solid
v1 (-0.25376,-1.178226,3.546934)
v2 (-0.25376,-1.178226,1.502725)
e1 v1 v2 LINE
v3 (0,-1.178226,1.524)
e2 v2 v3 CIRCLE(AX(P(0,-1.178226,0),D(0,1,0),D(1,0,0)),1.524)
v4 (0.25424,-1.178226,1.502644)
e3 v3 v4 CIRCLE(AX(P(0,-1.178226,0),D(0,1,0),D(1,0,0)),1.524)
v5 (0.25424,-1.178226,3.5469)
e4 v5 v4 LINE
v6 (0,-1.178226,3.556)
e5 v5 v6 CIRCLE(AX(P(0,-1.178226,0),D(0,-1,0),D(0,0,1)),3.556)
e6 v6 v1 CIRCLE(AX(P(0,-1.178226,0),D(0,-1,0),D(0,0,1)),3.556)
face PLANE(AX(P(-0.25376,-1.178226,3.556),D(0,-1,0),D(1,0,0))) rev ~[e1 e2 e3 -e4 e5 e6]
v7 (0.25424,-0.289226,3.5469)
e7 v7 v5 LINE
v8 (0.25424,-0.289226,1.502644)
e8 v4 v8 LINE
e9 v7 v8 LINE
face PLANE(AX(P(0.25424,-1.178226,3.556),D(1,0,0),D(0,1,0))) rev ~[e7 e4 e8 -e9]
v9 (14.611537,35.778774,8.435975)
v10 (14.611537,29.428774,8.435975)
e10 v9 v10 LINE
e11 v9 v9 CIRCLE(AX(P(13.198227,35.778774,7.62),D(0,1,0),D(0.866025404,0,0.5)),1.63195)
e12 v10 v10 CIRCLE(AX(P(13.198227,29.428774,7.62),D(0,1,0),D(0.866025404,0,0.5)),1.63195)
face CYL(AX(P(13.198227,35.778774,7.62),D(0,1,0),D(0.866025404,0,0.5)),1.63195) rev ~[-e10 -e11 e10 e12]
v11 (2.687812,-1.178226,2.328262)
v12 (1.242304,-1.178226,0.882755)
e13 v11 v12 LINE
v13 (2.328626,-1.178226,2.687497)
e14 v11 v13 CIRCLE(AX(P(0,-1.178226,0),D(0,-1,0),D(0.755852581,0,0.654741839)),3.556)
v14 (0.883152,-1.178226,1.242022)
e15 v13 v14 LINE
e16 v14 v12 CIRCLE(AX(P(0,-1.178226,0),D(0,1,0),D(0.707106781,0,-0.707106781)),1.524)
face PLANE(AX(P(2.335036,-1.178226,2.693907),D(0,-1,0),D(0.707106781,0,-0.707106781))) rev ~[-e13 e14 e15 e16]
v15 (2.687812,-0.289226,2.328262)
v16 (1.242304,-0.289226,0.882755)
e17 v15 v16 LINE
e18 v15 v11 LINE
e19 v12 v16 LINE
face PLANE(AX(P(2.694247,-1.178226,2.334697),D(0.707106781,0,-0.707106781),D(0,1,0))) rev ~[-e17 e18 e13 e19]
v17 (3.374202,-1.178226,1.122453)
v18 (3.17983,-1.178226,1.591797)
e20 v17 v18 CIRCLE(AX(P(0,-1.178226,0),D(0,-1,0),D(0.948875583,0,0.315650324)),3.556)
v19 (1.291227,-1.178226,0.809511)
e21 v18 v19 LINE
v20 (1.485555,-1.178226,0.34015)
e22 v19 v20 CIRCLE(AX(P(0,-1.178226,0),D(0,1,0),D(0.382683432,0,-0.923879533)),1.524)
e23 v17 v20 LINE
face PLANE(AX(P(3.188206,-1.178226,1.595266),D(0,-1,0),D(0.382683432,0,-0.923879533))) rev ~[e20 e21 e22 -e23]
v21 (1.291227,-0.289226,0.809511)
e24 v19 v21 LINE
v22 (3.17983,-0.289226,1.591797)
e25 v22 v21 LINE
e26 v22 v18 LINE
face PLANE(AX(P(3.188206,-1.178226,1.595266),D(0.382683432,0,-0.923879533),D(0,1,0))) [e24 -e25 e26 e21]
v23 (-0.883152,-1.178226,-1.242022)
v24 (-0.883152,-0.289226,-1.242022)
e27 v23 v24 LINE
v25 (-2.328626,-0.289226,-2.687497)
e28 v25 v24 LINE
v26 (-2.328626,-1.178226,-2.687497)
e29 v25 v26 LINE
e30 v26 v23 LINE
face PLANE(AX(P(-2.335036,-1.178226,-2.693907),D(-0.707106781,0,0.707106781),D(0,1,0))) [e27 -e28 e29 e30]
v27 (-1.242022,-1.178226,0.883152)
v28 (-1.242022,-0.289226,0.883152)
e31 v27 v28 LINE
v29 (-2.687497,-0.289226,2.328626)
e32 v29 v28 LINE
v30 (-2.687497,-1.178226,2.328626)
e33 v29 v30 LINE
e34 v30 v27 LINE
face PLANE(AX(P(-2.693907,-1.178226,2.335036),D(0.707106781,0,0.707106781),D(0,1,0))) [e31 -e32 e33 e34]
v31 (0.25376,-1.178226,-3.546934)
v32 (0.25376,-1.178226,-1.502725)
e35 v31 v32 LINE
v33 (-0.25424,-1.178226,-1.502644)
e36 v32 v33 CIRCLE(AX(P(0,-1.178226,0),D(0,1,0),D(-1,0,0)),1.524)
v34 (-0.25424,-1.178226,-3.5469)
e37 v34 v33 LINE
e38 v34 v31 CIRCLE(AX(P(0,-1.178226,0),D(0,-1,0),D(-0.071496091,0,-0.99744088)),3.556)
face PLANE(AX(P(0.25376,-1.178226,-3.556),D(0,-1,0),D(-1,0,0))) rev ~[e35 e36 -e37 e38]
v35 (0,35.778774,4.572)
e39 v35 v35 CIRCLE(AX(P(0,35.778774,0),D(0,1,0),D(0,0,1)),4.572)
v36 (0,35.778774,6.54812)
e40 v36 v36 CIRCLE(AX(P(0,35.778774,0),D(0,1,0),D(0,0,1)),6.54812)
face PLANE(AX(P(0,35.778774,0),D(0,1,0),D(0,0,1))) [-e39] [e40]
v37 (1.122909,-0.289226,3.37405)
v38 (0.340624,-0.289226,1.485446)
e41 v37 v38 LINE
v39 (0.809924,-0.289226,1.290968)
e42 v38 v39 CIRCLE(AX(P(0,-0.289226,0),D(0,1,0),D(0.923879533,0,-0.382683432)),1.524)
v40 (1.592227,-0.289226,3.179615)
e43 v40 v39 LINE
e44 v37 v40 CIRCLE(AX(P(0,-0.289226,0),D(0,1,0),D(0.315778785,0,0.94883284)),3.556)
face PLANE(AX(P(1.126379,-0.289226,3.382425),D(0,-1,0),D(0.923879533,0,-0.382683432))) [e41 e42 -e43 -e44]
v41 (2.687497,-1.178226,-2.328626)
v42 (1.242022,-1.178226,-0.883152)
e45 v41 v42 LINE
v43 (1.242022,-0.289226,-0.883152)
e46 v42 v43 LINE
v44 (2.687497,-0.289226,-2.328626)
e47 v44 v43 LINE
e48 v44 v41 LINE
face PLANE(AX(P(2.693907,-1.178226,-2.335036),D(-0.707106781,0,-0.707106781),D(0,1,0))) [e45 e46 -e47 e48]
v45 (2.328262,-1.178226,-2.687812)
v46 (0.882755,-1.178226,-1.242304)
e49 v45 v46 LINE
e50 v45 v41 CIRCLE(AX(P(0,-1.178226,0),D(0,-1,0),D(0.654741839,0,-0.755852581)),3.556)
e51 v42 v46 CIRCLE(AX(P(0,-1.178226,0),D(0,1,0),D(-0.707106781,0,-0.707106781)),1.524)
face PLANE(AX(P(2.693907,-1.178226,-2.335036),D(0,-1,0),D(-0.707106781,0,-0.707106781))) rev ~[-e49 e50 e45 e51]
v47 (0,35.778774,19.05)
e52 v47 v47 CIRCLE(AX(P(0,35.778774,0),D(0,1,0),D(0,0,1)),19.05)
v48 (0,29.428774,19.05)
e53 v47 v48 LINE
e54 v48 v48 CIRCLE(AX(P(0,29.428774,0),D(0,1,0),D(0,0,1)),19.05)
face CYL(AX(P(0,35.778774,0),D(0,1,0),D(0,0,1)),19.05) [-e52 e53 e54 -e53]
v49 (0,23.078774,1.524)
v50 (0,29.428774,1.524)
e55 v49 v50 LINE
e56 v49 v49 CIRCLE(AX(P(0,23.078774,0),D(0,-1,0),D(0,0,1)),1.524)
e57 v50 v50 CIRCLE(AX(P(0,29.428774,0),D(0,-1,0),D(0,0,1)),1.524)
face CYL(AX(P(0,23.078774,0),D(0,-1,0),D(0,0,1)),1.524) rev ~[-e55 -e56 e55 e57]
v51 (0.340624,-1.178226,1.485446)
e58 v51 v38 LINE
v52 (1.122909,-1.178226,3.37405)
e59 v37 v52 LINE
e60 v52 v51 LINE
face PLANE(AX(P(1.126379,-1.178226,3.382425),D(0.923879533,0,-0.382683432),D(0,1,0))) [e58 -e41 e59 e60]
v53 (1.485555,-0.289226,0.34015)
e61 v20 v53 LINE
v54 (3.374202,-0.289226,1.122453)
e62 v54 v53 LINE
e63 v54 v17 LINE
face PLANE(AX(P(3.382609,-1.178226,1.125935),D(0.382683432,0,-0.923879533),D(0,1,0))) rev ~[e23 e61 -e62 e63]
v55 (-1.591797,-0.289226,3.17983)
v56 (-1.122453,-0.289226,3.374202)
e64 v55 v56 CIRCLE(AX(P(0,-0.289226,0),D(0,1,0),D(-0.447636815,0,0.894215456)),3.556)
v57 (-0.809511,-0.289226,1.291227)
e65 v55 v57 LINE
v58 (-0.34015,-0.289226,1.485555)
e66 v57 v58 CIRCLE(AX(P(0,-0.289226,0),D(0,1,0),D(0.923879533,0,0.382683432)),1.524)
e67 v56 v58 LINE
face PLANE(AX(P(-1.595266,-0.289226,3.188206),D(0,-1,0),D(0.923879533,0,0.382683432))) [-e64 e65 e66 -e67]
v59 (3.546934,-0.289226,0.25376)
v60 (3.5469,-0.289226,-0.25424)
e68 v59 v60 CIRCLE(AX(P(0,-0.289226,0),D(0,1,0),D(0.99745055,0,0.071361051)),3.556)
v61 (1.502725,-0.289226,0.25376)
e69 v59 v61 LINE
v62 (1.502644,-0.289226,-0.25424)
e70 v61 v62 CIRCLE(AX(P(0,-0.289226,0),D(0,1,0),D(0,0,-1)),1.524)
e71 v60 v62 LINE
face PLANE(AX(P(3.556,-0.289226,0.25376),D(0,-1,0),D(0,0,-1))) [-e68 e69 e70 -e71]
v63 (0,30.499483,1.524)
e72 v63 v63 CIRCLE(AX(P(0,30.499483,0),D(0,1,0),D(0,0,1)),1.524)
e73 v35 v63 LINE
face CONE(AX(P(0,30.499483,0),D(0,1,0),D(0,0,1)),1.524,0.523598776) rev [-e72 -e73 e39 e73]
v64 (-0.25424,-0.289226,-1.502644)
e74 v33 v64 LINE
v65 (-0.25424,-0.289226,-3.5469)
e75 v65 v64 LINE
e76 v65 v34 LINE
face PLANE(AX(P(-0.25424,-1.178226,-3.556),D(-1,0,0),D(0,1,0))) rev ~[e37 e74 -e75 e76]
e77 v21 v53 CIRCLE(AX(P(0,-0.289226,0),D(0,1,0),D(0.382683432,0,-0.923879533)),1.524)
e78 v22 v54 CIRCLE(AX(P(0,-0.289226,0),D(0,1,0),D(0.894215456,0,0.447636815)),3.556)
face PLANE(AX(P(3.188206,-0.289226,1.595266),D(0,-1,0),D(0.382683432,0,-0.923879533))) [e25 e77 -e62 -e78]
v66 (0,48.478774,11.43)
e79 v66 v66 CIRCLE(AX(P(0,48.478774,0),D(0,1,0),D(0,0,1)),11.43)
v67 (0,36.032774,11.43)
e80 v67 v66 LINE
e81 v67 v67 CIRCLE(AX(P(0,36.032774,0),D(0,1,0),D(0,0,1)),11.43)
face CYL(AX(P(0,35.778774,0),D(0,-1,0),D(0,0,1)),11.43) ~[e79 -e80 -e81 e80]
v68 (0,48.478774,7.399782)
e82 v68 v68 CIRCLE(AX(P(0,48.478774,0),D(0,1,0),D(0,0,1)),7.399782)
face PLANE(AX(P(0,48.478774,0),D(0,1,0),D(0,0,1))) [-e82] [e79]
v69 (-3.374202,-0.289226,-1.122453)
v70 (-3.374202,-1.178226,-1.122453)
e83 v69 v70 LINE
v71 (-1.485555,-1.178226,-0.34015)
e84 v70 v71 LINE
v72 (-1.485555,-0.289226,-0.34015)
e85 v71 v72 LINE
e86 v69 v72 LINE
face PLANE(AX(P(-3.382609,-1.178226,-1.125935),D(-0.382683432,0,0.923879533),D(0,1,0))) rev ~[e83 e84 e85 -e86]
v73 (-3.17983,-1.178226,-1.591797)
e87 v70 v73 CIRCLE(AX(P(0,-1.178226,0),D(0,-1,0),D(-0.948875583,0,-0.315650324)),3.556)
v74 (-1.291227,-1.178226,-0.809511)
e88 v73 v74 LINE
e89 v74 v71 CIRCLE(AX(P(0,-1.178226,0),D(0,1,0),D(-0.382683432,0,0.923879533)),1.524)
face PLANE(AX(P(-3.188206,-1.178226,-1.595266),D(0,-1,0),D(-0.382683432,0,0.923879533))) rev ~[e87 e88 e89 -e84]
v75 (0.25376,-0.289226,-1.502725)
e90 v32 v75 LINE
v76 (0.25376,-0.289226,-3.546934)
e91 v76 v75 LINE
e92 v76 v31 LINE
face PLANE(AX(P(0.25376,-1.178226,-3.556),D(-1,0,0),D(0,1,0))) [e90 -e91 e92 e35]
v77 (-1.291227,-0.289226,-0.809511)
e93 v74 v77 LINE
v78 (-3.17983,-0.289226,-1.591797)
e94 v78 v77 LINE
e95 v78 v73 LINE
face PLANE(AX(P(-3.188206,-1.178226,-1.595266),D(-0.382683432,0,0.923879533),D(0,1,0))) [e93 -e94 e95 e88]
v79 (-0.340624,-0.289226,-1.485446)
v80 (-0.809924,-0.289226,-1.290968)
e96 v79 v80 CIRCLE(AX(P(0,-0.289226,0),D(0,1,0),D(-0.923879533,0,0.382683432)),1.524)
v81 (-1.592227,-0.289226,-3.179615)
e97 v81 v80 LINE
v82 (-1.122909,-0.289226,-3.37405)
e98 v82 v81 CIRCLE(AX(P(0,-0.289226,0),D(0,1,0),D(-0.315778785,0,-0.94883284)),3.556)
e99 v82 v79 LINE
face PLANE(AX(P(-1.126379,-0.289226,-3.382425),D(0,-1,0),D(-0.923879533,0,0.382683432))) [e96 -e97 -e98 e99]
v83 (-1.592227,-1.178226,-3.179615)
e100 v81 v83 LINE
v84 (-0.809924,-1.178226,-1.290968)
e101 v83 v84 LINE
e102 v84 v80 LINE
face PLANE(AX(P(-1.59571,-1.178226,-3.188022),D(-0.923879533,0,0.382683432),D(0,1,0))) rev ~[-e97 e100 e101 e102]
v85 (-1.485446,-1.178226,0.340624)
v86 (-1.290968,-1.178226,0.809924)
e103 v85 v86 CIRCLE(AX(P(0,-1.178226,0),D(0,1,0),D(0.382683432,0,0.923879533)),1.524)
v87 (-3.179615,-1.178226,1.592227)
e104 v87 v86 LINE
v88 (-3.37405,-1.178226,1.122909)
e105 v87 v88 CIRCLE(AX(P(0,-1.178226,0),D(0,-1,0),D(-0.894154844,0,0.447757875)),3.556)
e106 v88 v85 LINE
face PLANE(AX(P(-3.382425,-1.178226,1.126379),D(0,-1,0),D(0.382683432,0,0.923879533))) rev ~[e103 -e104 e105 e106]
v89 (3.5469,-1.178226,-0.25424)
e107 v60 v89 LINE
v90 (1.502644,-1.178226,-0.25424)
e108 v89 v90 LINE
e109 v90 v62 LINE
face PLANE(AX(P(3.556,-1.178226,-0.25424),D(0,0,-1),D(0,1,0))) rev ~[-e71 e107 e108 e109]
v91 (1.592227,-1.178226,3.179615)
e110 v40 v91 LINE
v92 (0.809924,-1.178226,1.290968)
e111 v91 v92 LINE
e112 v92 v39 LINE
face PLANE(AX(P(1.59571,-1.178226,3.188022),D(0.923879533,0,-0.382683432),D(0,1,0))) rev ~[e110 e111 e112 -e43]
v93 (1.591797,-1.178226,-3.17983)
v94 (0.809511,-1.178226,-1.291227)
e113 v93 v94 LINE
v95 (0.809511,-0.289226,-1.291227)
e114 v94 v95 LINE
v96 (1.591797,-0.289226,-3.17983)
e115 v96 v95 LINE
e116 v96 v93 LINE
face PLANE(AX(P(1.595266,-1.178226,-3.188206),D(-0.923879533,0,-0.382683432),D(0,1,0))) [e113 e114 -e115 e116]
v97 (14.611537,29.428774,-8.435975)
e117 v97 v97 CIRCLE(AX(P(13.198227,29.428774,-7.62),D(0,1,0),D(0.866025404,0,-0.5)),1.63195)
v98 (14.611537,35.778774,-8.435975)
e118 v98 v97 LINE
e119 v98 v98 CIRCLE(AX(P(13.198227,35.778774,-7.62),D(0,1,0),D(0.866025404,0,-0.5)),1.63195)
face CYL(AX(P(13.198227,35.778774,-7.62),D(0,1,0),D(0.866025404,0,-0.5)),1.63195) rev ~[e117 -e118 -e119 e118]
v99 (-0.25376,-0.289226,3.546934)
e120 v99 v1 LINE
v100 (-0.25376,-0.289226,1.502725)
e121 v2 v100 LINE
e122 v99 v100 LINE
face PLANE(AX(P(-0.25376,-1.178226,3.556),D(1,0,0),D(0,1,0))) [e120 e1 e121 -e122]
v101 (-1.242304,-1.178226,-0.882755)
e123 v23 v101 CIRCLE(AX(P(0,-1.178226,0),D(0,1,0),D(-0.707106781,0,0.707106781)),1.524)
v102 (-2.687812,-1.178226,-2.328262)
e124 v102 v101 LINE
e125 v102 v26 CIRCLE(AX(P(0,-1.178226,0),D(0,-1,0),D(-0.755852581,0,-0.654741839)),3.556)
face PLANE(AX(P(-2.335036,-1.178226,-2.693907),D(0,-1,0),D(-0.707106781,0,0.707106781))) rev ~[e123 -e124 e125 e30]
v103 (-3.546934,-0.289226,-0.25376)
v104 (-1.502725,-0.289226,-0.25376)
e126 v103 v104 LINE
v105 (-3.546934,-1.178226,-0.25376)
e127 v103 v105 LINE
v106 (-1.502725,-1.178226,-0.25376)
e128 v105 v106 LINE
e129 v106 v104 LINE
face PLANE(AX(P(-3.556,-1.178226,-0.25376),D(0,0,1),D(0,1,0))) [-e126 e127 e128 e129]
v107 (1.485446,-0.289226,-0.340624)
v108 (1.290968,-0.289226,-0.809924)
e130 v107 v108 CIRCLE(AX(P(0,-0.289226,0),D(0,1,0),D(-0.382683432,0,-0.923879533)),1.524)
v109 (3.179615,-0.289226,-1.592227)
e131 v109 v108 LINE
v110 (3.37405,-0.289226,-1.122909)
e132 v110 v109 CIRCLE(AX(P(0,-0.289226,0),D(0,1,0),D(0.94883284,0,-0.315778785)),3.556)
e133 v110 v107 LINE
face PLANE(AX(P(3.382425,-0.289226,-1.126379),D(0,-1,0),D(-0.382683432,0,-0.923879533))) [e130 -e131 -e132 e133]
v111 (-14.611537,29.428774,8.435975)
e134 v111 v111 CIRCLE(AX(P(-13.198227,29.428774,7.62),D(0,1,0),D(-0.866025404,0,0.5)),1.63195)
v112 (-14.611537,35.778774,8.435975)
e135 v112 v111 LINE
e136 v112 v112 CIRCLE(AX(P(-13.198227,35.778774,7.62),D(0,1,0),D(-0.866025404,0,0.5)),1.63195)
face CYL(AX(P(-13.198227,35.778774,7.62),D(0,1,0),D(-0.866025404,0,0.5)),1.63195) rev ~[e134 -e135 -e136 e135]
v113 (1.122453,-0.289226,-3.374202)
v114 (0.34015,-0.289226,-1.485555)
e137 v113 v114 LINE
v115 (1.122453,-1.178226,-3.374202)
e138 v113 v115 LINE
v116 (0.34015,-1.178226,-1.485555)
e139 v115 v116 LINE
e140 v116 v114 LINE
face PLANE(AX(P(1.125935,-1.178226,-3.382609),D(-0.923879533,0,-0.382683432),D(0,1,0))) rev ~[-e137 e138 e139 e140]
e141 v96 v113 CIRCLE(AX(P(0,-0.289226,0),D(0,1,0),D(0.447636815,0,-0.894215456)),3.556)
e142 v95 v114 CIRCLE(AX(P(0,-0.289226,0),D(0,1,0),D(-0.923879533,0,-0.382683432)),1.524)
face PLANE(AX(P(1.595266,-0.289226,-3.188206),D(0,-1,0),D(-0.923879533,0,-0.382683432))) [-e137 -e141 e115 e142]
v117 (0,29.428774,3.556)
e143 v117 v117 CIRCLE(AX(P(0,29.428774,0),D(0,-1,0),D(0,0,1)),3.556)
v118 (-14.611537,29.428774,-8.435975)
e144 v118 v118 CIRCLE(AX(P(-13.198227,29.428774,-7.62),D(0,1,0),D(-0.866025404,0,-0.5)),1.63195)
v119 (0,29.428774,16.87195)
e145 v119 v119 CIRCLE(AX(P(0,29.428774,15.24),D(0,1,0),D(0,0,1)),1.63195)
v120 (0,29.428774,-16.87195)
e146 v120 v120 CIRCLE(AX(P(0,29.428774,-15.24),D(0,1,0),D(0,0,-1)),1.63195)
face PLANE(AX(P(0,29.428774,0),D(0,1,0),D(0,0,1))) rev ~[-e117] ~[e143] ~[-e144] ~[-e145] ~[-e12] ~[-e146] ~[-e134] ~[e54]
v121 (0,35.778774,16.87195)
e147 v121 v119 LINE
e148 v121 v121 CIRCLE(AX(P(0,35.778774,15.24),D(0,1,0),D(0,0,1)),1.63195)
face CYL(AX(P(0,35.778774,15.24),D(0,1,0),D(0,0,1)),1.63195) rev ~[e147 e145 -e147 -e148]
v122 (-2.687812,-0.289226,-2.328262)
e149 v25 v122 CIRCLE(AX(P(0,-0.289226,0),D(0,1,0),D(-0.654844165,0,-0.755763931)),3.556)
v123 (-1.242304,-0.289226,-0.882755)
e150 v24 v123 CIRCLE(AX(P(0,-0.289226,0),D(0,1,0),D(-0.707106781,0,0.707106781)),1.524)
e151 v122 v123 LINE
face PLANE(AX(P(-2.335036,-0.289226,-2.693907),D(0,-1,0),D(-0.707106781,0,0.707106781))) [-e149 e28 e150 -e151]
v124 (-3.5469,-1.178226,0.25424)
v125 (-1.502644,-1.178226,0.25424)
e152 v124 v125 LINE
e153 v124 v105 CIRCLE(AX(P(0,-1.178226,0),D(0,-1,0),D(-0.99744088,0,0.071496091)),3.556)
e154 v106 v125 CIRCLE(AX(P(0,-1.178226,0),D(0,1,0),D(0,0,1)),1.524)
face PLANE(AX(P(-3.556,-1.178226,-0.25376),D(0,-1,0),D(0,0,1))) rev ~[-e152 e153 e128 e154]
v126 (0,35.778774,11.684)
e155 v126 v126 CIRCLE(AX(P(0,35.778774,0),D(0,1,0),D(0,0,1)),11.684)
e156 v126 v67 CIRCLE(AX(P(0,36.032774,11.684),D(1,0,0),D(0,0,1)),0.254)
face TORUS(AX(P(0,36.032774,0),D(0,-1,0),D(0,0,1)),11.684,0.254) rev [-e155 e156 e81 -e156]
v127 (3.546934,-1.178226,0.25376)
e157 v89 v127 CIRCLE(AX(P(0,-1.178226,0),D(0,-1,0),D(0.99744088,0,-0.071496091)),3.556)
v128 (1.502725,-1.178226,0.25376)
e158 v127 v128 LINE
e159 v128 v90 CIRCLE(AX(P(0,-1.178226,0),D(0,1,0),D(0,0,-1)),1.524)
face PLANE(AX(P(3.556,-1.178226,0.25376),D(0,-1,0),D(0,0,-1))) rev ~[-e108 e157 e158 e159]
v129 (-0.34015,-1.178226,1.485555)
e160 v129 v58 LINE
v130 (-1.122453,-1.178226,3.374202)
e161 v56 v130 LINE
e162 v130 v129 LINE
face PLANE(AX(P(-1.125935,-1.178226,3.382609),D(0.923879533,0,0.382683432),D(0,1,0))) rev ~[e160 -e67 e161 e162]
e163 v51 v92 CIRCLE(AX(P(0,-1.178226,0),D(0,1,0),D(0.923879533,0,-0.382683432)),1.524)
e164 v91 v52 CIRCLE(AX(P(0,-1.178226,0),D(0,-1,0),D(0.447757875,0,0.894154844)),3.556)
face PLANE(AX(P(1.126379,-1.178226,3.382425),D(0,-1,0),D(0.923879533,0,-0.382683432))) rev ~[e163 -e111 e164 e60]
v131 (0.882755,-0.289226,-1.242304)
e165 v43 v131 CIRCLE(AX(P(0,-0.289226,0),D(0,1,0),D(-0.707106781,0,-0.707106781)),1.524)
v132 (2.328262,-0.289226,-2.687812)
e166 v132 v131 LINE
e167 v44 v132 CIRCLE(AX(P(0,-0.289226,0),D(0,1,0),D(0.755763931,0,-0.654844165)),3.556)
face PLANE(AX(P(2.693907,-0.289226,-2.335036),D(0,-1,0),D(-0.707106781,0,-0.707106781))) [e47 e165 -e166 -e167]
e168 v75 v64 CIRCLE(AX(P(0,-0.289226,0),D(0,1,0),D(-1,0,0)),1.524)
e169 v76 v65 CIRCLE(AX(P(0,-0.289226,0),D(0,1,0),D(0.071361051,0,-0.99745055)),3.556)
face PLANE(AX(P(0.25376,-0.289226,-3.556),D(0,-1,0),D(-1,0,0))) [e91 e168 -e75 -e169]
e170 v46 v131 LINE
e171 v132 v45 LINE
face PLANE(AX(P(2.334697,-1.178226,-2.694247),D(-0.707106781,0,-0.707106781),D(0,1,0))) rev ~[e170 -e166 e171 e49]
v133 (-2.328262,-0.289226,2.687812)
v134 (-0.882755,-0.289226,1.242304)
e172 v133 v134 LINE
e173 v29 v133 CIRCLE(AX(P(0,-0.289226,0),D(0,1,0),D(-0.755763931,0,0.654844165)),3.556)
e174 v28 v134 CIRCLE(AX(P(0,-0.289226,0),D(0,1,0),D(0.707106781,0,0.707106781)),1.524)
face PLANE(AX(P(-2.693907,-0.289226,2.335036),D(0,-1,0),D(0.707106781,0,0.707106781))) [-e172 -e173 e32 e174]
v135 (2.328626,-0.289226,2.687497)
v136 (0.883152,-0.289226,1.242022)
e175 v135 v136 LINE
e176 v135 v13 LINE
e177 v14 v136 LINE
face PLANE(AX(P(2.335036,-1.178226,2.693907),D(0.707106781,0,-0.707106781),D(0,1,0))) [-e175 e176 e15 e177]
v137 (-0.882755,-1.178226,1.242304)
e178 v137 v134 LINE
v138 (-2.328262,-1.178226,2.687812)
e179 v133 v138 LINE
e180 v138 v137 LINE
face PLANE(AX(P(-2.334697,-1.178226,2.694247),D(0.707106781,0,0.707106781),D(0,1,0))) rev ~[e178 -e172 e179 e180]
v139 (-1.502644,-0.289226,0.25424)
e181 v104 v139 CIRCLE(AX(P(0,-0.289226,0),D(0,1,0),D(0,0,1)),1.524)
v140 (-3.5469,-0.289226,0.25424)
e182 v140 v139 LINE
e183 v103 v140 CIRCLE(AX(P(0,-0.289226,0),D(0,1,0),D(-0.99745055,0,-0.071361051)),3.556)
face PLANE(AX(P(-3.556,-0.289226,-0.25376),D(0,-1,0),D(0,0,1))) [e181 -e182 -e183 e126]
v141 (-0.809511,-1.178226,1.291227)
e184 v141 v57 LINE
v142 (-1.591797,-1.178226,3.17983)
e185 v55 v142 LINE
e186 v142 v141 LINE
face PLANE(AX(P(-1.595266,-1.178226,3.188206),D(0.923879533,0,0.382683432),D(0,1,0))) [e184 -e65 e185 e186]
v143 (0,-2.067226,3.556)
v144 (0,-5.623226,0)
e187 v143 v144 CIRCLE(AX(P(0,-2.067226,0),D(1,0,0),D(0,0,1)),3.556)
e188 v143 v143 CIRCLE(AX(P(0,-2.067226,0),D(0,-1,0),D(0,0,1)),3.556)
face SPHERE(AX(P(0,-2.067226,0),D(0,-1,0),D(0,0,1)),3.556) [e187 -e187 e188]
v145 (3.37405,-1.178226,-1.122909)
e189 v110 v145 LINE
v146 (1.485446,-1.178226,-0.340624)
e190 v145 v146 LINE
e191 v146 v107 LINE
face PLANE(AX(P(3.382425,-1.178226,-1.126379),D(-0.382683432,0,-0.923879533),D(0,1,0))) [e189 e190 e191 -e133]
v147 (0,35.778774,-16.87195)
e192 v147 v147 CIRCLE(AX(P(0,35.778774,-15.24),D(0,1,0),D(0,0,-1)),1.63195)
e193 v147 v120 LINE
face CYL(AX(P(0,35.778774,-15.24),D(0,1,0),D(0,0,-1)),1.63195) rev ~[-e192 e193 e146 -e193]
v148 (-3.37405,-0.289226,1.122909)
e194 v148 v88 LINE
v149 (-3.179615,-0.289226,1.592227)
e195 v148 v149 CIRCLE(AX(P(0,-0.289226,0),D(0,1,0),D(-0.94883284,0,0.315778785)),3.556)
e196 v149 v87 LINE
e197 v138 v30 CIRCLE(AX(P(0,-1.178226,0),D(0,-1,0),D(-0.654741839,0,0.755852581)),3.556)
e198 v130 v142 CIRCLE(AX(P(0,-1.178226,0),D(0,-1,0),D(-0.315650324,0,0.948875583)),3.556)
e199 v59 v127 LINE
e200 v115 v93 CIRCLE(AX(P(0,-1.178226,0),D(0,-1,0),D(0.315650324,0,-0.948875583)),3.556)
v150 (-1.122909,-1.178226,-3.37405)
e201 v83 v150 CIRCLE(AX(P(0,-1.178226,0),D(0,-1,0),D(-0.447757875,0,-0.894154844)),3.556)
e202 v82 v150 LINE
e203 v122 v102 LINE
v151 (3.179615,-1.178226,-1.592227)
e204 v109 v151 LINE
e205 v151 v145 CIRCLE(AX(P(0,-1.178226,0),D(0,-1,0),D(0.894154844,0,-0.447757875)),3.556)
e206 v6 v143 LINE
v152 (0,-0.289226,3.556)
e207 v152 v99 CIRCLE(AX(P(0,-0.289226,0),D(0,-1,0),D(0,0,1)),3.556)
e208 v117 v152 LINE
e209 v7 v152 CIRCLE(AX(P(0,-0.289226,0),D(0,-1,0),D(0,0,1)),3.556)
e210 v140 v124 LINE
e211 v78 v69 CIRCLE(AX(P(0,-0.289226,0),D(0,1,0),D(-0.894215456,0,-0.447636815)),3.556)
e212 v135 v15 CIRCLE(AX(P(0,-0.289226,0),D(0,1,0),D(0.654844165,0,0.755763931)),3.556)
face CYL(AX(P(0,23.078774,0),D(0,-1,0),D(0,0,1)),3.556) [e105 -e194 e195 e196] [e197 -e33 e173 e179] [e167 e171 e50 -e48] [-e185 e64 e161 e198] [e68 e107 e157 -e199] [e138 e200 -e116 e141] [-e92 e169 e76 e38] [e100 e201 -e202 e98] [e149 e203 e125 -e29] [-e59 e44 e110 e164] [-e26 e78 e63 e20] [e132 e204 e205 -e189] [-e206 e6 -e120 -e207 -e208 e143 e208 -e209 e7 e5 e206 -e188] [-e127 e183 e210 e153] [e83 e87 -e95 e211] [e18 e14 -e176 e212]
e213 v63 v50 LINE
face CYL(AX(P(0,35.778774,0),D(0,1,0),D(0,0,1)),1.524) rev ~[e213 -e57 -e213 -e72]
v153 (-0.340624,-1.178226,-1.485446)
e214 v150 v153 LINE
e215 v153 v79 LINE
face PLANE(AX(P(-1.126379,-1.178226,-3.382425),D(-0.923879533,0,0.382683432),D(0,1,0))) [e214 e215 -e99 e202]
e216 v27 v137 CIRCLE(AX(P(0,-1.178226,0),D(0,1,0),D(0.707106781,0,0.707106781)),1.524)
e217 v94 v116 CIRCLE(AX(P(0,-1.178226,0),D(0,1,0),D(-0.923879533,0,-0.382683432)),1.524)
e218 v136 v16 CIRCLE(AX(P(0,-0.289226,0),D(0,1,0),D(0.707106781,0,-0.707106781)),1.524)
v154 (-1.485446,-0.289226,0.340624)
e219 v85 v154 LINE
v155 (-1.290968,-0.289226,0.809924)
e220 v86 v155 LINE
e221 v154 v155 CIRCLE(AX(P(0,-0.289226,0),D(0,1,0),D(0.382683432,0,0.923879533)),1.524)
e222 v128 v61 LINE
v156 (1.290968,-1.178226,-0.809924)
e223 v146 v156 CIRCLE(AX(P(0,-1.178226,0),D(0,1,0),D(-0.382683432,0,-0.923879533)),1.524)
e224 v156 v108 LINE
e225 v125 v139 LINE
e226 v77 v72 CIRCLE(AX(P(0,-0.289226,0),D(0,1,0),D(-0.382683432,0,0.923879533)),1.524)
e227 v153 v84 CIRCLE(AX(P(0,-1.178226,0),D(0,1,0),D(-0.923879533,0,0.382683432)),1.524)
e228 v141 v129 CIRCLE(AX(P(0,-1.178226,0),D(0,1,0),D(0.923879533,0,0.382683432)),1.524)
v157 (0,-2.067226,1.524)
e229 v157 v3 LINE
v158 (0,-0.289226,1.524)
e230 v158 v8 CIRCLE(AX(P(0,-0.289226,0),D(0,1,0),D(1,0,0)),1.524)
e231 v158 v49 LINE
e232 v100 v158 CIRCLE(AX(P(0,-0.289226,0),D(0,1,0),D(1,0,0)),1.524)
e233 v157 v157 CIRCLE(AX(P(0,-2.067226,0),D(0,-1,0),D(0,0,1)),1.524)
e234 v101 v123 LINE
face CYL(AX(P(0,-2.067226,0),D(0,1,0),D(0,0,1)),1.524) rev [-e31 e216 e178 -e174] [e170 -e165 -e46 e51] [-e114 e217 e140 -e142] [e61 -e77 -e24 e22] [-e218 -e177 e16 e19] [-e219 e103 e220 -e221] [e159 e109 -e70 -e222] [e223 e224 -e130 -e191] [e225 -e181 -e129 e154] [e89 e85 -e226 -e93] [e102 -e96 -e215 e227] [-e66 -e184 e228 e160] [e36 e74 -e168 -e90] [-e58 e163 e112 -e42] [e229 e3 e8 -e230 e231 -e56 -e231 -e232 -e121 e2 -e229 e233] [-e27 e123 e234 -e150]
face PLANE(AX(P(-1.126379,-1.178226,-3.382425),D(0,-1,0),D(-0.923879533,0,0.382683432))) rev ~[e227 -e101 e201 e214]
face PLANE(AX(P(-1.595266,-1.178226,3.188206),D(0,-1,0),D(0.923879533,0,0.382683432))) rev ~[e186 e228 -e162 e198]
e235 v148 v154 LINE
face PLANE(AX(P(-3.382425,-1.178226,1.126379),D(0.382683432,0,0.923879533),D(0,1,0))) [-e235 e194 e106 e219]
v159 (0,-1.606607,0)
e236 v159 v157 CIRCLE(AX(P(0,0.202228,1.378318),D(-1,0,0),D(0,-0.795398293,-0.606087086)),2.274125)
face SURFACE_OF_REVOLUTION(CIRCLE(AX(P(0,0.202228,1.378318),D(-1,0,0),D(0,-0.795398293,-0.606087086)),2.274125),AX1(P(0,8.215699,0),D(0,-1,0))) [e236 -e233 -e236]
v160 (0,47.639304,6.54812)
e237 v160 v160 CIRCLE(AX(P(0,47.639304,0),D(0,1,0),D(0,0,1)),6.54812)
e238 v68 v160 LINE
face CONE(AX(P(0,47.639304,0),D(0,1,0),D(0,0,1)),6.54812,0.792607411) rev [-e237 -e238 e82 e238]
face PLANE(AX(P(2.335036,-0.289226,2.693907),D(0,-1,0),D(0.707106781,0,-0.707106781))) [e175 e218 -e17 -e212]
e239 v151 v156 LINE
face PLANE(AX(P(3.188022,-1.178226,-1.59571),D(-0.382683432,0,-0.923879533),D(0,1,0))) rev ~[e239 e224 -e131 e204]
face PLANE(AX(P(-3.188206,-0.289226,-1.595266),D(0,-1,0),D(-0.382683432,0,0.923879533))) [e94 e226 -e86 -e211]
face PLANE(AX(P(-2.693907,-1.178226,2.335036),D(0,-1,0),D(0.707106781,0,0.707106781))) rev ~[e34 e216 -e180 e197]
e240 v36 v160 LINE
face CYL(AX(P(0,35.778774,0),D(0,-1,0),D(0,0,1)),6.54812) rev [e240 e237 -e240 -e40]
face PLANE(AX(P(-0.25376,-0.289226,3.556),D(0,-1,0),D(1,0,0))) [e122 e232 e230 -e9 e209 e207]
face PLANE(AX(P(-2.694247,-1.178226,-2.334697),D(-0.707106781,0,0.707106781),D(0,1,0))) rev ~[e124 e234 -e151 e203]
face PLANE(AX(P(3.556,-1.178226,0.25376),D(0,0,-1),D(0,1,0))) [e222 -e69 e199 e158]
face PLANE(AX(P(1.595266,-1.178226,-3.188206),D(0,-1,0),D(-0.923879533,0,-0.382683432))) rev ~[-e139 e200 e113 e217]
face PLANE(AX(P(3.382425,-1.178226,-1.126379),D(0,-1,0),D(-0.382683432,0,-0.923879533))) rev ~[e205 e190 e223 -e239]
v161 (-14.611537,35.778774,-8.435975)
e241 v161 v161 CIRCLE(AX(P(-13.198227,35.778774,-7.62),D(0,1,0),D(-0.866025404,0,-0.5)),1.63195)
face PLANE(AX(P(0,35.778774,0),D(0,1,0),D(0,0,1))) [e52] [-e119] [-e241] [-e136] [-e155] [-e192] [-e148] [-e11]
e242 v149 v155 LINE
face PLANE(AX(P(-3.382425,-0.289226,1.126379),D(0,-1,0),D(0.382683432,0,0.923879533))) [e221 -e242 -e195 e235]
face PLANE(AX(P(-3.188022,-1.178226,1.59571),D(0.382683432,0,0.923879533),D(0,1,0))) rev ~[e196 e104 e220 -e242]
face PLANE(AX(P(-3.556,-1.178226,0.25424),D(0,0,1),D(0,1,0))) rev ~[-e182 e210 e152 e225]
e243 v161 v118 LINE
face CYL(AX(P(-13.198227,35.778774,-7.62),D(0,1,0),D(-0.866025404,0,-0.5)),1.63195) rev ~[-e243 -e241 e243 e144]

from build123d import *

# Parameters (mm, degrees)
CUT_EXTRUDE1_REACH      = 26.41
CUT_EXTRUDE1_END_RADIUS = 1.524
SKETCH2_W               = 0.508
SKETCH2_H               = 0.889
CIRPATTERN1_COUNT       = 16
SKETCH3_R               = 3.556
SKETCH3_R_2             = 1.524
BOSS_EXTRUDE1_DEPTH     = 6.35
BOSS_EXTRUDE2_START     = 6.35
SKETCH4_R               = 19.05
SKETCH4_R_2             = 1.524
BOSS_EXTRUDE2_DEPTH     = 6.35
CUT_EXTRUDE2_REACH      = 51.396
SKETCH11_R              = 1.63195
CIRPATTERN2_COUNT       = 6
CHAMFER1_SIZE           = 3.048
CHAMFER1_SIZE2          = 5.279290861
SKETCH13_R              = 11.43
SKETCH13_R_2            = 6.54812
BOSS_EXTRUDE4_DEPTH     = 12.7
FILLET4_R               = 0.254
CHAMFER2_SIZE           = 0.851662
CHAMFER2_SIZE2          = 0.83947


with BuildPart() as part:
    # Sketch1 → Revolve2 (revolve)
    with BuildSketch(Plane.XY, mode=Mode.PRIVATE) as revolve2_sk:
        with BuildLine():
            Line((-1.524, 23.078774136), (-3.556, 23.078774136))
            Line((-3.556, 23.078774136), (-3.556, -2.067225864))
            ThreePointArc((-3.556, -2.067225864), (-2.514471714, -4.581697578), (0, -5.623225864))
            Line((0, -5.623225864), (0, -1.606607061))
            ThreePointArc((0, -1.606607061), (-0.720373994, -1.97463996), (-1.524, -2.067225864))
            Line((-1.524, -2.067225864), (-1.524, 23.078774136))
        make_face()
    revolve(revolve2_sk.sketch.rotate(Axis((0, 8.215698649, 0), (0, -1, 0)), 270), axis=Axis((0, 8.215698649, 0), (0, -1, 0)))

    # Cut-Extrude1: up to this cylinder (the profile starts outside it)
    cut_extrude1_end = Plane(origin=(0, -0.733726, 0), z_dir=(0, 1, 0)) * Cylinder(CUT_EXTRUDE1_END_RADIUS, 56.868, mode=Mode.PRIVATE)
    # Sketch2 → Cut-Extrude1 (cut, up to the surface)
    with BuildSketch(Plane.ZY.offset(3.556), mode=Mode.PRIVATE) as cut_extrude1_sk1:
        with Locations((0.000240101, -0.733725864)):
            Rectangle(SKETCH2_W, SKETCH2_H)
    cut_extrude1_tool1 = extrude(cut_extrude1_sk1.sketch, amount=-CUT_EXTRUDE1_REACH, mode=Mode.PRIVATE) - cut_extrude1_end
    cut_extrude1 = cut_extrude1_tool1.solids().sort_by_distance((-3.556, -0.733726, 0.00024))[0]
    add(cut_extrude1, mode=Mode.SUBTRACT)

    # CirPattern1: Cut-Extrude1 ×16 about axis
    cirpattern1_axis = Axis((0, 0, 0), (0, 1, 0))
    for i in range(1, CIRPATTERN1_COUNT):
        add(cut_extrude1.rotate(cirpattern1_axis, i * 360 / CIRPATTERN1_COUNT), mode=Mode.SUBTRACT)

    # Sketch3 → Boss-Extrude1 (add)
    with BuildSketch(Plane(origin=(0, 23.078774136, 0), x_dir=(-1, 0, 0), z_dir=(0, -1, 0))):
        with Locations(Location((0, 0, 0), (0, 0, 270))):
            Circle(SKETCH3_R)
        with Locations(Location((0, 0, 0), (0, 0, 270))):
            Circle(SKETCH3_R_2, mode=Mode.SUBTRACT)
    extrude(amount=-BOSS_EXTRUDE1_DEPTH)

    # Sketch4 → Boss-Extrude2 (add)
    with BuildSketch(Plane(origin=(0, 29.428774136, 0), x_dir=(1, 0, 0), z_dir=(0, 1, 0)).offset(BOSS_EXTRUDE2_START)):
        with Locations(Location((0, 0, 0), (0, 0, 270))):
            Circle(SKETCH4_R)
        with Locations(Location((0, 0, 0), (0, 0, 270))):
            Circle(SKETCH4_R_2, mode=Mode.SUBTRACT)
    extrude(amount=-BOSS_EXTRUDE2_DEPTH)

    # Sketch11 → Cut-Extrude2 (cut, up to next)
    with BuildSketch(Plane(origin=(0, 35.778774136, 0), x_dir=(1, 0, 0), z_dir=(0, 1, 0)), mode=Mode.PRIVATE) as cut_extrude2_sk1:
        with Locations(Location((0, -15.24, 0), (0, 0, 270))):
            Circle(SKETCH11_R)
    cut_extrude2_tool1 = extrude(cut_extrude2_sk1.sketch, amount=-CUT_EXTRUDE2_REACH, mode=Mode.PRIVATE) & part.part
    cut_extrude2 = cut_extrude2_tool1.solids().sort_by_distance((0, 35.778774, 15.24))[0]
    add(cut_extrude2, mode=Mode.SUBTRACT)

    # CirPattern2: Cut-Extrude2 ×6 about axis
    cirpattern2_axis = Axis((0, 0, 0), (0, 1, 0))
    for i in range(1, CIRPATTERN2_COUNT):
        add(cut_extrude2.rotate(cirpattern2_axis, i * 360 / CIRPATTERN2_COUNT), mode=Mode.SUBTRACT)

    # Chamfer1
    chamfer1_edges = [part.edges().sort_by_distance(p)[0] for p in [
        (0, 35.778774136, -1.524),
    ]]
    chamfer1_side = [part.faces().sort_by_distance(p)[0] for p in [
        (0, 35.778774136, -18.511184633),
    ]]
    chamfer(chamfer1_edges, length=CHAMFER1_SIZE, length2=CHAMFER1_SIZE2, reference=chamfer1_side[0])

    # Sketch13 → Boss-Extrude4 (add)
    with BuildSketch(Plane(origin=(0, 35.778774136, 0), x_dir=(1, 0, 0), z_dir=(0, 1, 0))):
        with Locations(Location((0, 0, 0), (0, 0, 270))):
            Circle(SKETCH13_R)
        with Locations(Location((0, 0, 0), (0, 0, 270))):
            Circle(SKETCH13_R_2, mode=Mode.SUBTRACT)
    extrude(amount=BOSS_EXTRUDE4_DEPTH)

    # Fillet4
    fillet4_edges = [part.edges().sort_by_distance(p)[0] for p in [
        (0, 35.778774136, -11.43),
    ]]
    fillet(fillet4_edges, radius=FILLET4_R)

    # Chamfer2
    chamfer2_edges = [part.edges().sort_by_distance(p)[0] for p in [
        (0, 48.478774136, -6.54812),
    ]]
    chamfer2_side = [part.faces().sort_by_distance(p)[0] for p in [
        (0, 48.478774136, -11.10671078),
    ]]
    chamfer(chamfer2_edges, length=CHAMFER2_SIZE, length2=CHAMFER2_SIZE2, reference=chamfer2_side[0])


solid = part.part
